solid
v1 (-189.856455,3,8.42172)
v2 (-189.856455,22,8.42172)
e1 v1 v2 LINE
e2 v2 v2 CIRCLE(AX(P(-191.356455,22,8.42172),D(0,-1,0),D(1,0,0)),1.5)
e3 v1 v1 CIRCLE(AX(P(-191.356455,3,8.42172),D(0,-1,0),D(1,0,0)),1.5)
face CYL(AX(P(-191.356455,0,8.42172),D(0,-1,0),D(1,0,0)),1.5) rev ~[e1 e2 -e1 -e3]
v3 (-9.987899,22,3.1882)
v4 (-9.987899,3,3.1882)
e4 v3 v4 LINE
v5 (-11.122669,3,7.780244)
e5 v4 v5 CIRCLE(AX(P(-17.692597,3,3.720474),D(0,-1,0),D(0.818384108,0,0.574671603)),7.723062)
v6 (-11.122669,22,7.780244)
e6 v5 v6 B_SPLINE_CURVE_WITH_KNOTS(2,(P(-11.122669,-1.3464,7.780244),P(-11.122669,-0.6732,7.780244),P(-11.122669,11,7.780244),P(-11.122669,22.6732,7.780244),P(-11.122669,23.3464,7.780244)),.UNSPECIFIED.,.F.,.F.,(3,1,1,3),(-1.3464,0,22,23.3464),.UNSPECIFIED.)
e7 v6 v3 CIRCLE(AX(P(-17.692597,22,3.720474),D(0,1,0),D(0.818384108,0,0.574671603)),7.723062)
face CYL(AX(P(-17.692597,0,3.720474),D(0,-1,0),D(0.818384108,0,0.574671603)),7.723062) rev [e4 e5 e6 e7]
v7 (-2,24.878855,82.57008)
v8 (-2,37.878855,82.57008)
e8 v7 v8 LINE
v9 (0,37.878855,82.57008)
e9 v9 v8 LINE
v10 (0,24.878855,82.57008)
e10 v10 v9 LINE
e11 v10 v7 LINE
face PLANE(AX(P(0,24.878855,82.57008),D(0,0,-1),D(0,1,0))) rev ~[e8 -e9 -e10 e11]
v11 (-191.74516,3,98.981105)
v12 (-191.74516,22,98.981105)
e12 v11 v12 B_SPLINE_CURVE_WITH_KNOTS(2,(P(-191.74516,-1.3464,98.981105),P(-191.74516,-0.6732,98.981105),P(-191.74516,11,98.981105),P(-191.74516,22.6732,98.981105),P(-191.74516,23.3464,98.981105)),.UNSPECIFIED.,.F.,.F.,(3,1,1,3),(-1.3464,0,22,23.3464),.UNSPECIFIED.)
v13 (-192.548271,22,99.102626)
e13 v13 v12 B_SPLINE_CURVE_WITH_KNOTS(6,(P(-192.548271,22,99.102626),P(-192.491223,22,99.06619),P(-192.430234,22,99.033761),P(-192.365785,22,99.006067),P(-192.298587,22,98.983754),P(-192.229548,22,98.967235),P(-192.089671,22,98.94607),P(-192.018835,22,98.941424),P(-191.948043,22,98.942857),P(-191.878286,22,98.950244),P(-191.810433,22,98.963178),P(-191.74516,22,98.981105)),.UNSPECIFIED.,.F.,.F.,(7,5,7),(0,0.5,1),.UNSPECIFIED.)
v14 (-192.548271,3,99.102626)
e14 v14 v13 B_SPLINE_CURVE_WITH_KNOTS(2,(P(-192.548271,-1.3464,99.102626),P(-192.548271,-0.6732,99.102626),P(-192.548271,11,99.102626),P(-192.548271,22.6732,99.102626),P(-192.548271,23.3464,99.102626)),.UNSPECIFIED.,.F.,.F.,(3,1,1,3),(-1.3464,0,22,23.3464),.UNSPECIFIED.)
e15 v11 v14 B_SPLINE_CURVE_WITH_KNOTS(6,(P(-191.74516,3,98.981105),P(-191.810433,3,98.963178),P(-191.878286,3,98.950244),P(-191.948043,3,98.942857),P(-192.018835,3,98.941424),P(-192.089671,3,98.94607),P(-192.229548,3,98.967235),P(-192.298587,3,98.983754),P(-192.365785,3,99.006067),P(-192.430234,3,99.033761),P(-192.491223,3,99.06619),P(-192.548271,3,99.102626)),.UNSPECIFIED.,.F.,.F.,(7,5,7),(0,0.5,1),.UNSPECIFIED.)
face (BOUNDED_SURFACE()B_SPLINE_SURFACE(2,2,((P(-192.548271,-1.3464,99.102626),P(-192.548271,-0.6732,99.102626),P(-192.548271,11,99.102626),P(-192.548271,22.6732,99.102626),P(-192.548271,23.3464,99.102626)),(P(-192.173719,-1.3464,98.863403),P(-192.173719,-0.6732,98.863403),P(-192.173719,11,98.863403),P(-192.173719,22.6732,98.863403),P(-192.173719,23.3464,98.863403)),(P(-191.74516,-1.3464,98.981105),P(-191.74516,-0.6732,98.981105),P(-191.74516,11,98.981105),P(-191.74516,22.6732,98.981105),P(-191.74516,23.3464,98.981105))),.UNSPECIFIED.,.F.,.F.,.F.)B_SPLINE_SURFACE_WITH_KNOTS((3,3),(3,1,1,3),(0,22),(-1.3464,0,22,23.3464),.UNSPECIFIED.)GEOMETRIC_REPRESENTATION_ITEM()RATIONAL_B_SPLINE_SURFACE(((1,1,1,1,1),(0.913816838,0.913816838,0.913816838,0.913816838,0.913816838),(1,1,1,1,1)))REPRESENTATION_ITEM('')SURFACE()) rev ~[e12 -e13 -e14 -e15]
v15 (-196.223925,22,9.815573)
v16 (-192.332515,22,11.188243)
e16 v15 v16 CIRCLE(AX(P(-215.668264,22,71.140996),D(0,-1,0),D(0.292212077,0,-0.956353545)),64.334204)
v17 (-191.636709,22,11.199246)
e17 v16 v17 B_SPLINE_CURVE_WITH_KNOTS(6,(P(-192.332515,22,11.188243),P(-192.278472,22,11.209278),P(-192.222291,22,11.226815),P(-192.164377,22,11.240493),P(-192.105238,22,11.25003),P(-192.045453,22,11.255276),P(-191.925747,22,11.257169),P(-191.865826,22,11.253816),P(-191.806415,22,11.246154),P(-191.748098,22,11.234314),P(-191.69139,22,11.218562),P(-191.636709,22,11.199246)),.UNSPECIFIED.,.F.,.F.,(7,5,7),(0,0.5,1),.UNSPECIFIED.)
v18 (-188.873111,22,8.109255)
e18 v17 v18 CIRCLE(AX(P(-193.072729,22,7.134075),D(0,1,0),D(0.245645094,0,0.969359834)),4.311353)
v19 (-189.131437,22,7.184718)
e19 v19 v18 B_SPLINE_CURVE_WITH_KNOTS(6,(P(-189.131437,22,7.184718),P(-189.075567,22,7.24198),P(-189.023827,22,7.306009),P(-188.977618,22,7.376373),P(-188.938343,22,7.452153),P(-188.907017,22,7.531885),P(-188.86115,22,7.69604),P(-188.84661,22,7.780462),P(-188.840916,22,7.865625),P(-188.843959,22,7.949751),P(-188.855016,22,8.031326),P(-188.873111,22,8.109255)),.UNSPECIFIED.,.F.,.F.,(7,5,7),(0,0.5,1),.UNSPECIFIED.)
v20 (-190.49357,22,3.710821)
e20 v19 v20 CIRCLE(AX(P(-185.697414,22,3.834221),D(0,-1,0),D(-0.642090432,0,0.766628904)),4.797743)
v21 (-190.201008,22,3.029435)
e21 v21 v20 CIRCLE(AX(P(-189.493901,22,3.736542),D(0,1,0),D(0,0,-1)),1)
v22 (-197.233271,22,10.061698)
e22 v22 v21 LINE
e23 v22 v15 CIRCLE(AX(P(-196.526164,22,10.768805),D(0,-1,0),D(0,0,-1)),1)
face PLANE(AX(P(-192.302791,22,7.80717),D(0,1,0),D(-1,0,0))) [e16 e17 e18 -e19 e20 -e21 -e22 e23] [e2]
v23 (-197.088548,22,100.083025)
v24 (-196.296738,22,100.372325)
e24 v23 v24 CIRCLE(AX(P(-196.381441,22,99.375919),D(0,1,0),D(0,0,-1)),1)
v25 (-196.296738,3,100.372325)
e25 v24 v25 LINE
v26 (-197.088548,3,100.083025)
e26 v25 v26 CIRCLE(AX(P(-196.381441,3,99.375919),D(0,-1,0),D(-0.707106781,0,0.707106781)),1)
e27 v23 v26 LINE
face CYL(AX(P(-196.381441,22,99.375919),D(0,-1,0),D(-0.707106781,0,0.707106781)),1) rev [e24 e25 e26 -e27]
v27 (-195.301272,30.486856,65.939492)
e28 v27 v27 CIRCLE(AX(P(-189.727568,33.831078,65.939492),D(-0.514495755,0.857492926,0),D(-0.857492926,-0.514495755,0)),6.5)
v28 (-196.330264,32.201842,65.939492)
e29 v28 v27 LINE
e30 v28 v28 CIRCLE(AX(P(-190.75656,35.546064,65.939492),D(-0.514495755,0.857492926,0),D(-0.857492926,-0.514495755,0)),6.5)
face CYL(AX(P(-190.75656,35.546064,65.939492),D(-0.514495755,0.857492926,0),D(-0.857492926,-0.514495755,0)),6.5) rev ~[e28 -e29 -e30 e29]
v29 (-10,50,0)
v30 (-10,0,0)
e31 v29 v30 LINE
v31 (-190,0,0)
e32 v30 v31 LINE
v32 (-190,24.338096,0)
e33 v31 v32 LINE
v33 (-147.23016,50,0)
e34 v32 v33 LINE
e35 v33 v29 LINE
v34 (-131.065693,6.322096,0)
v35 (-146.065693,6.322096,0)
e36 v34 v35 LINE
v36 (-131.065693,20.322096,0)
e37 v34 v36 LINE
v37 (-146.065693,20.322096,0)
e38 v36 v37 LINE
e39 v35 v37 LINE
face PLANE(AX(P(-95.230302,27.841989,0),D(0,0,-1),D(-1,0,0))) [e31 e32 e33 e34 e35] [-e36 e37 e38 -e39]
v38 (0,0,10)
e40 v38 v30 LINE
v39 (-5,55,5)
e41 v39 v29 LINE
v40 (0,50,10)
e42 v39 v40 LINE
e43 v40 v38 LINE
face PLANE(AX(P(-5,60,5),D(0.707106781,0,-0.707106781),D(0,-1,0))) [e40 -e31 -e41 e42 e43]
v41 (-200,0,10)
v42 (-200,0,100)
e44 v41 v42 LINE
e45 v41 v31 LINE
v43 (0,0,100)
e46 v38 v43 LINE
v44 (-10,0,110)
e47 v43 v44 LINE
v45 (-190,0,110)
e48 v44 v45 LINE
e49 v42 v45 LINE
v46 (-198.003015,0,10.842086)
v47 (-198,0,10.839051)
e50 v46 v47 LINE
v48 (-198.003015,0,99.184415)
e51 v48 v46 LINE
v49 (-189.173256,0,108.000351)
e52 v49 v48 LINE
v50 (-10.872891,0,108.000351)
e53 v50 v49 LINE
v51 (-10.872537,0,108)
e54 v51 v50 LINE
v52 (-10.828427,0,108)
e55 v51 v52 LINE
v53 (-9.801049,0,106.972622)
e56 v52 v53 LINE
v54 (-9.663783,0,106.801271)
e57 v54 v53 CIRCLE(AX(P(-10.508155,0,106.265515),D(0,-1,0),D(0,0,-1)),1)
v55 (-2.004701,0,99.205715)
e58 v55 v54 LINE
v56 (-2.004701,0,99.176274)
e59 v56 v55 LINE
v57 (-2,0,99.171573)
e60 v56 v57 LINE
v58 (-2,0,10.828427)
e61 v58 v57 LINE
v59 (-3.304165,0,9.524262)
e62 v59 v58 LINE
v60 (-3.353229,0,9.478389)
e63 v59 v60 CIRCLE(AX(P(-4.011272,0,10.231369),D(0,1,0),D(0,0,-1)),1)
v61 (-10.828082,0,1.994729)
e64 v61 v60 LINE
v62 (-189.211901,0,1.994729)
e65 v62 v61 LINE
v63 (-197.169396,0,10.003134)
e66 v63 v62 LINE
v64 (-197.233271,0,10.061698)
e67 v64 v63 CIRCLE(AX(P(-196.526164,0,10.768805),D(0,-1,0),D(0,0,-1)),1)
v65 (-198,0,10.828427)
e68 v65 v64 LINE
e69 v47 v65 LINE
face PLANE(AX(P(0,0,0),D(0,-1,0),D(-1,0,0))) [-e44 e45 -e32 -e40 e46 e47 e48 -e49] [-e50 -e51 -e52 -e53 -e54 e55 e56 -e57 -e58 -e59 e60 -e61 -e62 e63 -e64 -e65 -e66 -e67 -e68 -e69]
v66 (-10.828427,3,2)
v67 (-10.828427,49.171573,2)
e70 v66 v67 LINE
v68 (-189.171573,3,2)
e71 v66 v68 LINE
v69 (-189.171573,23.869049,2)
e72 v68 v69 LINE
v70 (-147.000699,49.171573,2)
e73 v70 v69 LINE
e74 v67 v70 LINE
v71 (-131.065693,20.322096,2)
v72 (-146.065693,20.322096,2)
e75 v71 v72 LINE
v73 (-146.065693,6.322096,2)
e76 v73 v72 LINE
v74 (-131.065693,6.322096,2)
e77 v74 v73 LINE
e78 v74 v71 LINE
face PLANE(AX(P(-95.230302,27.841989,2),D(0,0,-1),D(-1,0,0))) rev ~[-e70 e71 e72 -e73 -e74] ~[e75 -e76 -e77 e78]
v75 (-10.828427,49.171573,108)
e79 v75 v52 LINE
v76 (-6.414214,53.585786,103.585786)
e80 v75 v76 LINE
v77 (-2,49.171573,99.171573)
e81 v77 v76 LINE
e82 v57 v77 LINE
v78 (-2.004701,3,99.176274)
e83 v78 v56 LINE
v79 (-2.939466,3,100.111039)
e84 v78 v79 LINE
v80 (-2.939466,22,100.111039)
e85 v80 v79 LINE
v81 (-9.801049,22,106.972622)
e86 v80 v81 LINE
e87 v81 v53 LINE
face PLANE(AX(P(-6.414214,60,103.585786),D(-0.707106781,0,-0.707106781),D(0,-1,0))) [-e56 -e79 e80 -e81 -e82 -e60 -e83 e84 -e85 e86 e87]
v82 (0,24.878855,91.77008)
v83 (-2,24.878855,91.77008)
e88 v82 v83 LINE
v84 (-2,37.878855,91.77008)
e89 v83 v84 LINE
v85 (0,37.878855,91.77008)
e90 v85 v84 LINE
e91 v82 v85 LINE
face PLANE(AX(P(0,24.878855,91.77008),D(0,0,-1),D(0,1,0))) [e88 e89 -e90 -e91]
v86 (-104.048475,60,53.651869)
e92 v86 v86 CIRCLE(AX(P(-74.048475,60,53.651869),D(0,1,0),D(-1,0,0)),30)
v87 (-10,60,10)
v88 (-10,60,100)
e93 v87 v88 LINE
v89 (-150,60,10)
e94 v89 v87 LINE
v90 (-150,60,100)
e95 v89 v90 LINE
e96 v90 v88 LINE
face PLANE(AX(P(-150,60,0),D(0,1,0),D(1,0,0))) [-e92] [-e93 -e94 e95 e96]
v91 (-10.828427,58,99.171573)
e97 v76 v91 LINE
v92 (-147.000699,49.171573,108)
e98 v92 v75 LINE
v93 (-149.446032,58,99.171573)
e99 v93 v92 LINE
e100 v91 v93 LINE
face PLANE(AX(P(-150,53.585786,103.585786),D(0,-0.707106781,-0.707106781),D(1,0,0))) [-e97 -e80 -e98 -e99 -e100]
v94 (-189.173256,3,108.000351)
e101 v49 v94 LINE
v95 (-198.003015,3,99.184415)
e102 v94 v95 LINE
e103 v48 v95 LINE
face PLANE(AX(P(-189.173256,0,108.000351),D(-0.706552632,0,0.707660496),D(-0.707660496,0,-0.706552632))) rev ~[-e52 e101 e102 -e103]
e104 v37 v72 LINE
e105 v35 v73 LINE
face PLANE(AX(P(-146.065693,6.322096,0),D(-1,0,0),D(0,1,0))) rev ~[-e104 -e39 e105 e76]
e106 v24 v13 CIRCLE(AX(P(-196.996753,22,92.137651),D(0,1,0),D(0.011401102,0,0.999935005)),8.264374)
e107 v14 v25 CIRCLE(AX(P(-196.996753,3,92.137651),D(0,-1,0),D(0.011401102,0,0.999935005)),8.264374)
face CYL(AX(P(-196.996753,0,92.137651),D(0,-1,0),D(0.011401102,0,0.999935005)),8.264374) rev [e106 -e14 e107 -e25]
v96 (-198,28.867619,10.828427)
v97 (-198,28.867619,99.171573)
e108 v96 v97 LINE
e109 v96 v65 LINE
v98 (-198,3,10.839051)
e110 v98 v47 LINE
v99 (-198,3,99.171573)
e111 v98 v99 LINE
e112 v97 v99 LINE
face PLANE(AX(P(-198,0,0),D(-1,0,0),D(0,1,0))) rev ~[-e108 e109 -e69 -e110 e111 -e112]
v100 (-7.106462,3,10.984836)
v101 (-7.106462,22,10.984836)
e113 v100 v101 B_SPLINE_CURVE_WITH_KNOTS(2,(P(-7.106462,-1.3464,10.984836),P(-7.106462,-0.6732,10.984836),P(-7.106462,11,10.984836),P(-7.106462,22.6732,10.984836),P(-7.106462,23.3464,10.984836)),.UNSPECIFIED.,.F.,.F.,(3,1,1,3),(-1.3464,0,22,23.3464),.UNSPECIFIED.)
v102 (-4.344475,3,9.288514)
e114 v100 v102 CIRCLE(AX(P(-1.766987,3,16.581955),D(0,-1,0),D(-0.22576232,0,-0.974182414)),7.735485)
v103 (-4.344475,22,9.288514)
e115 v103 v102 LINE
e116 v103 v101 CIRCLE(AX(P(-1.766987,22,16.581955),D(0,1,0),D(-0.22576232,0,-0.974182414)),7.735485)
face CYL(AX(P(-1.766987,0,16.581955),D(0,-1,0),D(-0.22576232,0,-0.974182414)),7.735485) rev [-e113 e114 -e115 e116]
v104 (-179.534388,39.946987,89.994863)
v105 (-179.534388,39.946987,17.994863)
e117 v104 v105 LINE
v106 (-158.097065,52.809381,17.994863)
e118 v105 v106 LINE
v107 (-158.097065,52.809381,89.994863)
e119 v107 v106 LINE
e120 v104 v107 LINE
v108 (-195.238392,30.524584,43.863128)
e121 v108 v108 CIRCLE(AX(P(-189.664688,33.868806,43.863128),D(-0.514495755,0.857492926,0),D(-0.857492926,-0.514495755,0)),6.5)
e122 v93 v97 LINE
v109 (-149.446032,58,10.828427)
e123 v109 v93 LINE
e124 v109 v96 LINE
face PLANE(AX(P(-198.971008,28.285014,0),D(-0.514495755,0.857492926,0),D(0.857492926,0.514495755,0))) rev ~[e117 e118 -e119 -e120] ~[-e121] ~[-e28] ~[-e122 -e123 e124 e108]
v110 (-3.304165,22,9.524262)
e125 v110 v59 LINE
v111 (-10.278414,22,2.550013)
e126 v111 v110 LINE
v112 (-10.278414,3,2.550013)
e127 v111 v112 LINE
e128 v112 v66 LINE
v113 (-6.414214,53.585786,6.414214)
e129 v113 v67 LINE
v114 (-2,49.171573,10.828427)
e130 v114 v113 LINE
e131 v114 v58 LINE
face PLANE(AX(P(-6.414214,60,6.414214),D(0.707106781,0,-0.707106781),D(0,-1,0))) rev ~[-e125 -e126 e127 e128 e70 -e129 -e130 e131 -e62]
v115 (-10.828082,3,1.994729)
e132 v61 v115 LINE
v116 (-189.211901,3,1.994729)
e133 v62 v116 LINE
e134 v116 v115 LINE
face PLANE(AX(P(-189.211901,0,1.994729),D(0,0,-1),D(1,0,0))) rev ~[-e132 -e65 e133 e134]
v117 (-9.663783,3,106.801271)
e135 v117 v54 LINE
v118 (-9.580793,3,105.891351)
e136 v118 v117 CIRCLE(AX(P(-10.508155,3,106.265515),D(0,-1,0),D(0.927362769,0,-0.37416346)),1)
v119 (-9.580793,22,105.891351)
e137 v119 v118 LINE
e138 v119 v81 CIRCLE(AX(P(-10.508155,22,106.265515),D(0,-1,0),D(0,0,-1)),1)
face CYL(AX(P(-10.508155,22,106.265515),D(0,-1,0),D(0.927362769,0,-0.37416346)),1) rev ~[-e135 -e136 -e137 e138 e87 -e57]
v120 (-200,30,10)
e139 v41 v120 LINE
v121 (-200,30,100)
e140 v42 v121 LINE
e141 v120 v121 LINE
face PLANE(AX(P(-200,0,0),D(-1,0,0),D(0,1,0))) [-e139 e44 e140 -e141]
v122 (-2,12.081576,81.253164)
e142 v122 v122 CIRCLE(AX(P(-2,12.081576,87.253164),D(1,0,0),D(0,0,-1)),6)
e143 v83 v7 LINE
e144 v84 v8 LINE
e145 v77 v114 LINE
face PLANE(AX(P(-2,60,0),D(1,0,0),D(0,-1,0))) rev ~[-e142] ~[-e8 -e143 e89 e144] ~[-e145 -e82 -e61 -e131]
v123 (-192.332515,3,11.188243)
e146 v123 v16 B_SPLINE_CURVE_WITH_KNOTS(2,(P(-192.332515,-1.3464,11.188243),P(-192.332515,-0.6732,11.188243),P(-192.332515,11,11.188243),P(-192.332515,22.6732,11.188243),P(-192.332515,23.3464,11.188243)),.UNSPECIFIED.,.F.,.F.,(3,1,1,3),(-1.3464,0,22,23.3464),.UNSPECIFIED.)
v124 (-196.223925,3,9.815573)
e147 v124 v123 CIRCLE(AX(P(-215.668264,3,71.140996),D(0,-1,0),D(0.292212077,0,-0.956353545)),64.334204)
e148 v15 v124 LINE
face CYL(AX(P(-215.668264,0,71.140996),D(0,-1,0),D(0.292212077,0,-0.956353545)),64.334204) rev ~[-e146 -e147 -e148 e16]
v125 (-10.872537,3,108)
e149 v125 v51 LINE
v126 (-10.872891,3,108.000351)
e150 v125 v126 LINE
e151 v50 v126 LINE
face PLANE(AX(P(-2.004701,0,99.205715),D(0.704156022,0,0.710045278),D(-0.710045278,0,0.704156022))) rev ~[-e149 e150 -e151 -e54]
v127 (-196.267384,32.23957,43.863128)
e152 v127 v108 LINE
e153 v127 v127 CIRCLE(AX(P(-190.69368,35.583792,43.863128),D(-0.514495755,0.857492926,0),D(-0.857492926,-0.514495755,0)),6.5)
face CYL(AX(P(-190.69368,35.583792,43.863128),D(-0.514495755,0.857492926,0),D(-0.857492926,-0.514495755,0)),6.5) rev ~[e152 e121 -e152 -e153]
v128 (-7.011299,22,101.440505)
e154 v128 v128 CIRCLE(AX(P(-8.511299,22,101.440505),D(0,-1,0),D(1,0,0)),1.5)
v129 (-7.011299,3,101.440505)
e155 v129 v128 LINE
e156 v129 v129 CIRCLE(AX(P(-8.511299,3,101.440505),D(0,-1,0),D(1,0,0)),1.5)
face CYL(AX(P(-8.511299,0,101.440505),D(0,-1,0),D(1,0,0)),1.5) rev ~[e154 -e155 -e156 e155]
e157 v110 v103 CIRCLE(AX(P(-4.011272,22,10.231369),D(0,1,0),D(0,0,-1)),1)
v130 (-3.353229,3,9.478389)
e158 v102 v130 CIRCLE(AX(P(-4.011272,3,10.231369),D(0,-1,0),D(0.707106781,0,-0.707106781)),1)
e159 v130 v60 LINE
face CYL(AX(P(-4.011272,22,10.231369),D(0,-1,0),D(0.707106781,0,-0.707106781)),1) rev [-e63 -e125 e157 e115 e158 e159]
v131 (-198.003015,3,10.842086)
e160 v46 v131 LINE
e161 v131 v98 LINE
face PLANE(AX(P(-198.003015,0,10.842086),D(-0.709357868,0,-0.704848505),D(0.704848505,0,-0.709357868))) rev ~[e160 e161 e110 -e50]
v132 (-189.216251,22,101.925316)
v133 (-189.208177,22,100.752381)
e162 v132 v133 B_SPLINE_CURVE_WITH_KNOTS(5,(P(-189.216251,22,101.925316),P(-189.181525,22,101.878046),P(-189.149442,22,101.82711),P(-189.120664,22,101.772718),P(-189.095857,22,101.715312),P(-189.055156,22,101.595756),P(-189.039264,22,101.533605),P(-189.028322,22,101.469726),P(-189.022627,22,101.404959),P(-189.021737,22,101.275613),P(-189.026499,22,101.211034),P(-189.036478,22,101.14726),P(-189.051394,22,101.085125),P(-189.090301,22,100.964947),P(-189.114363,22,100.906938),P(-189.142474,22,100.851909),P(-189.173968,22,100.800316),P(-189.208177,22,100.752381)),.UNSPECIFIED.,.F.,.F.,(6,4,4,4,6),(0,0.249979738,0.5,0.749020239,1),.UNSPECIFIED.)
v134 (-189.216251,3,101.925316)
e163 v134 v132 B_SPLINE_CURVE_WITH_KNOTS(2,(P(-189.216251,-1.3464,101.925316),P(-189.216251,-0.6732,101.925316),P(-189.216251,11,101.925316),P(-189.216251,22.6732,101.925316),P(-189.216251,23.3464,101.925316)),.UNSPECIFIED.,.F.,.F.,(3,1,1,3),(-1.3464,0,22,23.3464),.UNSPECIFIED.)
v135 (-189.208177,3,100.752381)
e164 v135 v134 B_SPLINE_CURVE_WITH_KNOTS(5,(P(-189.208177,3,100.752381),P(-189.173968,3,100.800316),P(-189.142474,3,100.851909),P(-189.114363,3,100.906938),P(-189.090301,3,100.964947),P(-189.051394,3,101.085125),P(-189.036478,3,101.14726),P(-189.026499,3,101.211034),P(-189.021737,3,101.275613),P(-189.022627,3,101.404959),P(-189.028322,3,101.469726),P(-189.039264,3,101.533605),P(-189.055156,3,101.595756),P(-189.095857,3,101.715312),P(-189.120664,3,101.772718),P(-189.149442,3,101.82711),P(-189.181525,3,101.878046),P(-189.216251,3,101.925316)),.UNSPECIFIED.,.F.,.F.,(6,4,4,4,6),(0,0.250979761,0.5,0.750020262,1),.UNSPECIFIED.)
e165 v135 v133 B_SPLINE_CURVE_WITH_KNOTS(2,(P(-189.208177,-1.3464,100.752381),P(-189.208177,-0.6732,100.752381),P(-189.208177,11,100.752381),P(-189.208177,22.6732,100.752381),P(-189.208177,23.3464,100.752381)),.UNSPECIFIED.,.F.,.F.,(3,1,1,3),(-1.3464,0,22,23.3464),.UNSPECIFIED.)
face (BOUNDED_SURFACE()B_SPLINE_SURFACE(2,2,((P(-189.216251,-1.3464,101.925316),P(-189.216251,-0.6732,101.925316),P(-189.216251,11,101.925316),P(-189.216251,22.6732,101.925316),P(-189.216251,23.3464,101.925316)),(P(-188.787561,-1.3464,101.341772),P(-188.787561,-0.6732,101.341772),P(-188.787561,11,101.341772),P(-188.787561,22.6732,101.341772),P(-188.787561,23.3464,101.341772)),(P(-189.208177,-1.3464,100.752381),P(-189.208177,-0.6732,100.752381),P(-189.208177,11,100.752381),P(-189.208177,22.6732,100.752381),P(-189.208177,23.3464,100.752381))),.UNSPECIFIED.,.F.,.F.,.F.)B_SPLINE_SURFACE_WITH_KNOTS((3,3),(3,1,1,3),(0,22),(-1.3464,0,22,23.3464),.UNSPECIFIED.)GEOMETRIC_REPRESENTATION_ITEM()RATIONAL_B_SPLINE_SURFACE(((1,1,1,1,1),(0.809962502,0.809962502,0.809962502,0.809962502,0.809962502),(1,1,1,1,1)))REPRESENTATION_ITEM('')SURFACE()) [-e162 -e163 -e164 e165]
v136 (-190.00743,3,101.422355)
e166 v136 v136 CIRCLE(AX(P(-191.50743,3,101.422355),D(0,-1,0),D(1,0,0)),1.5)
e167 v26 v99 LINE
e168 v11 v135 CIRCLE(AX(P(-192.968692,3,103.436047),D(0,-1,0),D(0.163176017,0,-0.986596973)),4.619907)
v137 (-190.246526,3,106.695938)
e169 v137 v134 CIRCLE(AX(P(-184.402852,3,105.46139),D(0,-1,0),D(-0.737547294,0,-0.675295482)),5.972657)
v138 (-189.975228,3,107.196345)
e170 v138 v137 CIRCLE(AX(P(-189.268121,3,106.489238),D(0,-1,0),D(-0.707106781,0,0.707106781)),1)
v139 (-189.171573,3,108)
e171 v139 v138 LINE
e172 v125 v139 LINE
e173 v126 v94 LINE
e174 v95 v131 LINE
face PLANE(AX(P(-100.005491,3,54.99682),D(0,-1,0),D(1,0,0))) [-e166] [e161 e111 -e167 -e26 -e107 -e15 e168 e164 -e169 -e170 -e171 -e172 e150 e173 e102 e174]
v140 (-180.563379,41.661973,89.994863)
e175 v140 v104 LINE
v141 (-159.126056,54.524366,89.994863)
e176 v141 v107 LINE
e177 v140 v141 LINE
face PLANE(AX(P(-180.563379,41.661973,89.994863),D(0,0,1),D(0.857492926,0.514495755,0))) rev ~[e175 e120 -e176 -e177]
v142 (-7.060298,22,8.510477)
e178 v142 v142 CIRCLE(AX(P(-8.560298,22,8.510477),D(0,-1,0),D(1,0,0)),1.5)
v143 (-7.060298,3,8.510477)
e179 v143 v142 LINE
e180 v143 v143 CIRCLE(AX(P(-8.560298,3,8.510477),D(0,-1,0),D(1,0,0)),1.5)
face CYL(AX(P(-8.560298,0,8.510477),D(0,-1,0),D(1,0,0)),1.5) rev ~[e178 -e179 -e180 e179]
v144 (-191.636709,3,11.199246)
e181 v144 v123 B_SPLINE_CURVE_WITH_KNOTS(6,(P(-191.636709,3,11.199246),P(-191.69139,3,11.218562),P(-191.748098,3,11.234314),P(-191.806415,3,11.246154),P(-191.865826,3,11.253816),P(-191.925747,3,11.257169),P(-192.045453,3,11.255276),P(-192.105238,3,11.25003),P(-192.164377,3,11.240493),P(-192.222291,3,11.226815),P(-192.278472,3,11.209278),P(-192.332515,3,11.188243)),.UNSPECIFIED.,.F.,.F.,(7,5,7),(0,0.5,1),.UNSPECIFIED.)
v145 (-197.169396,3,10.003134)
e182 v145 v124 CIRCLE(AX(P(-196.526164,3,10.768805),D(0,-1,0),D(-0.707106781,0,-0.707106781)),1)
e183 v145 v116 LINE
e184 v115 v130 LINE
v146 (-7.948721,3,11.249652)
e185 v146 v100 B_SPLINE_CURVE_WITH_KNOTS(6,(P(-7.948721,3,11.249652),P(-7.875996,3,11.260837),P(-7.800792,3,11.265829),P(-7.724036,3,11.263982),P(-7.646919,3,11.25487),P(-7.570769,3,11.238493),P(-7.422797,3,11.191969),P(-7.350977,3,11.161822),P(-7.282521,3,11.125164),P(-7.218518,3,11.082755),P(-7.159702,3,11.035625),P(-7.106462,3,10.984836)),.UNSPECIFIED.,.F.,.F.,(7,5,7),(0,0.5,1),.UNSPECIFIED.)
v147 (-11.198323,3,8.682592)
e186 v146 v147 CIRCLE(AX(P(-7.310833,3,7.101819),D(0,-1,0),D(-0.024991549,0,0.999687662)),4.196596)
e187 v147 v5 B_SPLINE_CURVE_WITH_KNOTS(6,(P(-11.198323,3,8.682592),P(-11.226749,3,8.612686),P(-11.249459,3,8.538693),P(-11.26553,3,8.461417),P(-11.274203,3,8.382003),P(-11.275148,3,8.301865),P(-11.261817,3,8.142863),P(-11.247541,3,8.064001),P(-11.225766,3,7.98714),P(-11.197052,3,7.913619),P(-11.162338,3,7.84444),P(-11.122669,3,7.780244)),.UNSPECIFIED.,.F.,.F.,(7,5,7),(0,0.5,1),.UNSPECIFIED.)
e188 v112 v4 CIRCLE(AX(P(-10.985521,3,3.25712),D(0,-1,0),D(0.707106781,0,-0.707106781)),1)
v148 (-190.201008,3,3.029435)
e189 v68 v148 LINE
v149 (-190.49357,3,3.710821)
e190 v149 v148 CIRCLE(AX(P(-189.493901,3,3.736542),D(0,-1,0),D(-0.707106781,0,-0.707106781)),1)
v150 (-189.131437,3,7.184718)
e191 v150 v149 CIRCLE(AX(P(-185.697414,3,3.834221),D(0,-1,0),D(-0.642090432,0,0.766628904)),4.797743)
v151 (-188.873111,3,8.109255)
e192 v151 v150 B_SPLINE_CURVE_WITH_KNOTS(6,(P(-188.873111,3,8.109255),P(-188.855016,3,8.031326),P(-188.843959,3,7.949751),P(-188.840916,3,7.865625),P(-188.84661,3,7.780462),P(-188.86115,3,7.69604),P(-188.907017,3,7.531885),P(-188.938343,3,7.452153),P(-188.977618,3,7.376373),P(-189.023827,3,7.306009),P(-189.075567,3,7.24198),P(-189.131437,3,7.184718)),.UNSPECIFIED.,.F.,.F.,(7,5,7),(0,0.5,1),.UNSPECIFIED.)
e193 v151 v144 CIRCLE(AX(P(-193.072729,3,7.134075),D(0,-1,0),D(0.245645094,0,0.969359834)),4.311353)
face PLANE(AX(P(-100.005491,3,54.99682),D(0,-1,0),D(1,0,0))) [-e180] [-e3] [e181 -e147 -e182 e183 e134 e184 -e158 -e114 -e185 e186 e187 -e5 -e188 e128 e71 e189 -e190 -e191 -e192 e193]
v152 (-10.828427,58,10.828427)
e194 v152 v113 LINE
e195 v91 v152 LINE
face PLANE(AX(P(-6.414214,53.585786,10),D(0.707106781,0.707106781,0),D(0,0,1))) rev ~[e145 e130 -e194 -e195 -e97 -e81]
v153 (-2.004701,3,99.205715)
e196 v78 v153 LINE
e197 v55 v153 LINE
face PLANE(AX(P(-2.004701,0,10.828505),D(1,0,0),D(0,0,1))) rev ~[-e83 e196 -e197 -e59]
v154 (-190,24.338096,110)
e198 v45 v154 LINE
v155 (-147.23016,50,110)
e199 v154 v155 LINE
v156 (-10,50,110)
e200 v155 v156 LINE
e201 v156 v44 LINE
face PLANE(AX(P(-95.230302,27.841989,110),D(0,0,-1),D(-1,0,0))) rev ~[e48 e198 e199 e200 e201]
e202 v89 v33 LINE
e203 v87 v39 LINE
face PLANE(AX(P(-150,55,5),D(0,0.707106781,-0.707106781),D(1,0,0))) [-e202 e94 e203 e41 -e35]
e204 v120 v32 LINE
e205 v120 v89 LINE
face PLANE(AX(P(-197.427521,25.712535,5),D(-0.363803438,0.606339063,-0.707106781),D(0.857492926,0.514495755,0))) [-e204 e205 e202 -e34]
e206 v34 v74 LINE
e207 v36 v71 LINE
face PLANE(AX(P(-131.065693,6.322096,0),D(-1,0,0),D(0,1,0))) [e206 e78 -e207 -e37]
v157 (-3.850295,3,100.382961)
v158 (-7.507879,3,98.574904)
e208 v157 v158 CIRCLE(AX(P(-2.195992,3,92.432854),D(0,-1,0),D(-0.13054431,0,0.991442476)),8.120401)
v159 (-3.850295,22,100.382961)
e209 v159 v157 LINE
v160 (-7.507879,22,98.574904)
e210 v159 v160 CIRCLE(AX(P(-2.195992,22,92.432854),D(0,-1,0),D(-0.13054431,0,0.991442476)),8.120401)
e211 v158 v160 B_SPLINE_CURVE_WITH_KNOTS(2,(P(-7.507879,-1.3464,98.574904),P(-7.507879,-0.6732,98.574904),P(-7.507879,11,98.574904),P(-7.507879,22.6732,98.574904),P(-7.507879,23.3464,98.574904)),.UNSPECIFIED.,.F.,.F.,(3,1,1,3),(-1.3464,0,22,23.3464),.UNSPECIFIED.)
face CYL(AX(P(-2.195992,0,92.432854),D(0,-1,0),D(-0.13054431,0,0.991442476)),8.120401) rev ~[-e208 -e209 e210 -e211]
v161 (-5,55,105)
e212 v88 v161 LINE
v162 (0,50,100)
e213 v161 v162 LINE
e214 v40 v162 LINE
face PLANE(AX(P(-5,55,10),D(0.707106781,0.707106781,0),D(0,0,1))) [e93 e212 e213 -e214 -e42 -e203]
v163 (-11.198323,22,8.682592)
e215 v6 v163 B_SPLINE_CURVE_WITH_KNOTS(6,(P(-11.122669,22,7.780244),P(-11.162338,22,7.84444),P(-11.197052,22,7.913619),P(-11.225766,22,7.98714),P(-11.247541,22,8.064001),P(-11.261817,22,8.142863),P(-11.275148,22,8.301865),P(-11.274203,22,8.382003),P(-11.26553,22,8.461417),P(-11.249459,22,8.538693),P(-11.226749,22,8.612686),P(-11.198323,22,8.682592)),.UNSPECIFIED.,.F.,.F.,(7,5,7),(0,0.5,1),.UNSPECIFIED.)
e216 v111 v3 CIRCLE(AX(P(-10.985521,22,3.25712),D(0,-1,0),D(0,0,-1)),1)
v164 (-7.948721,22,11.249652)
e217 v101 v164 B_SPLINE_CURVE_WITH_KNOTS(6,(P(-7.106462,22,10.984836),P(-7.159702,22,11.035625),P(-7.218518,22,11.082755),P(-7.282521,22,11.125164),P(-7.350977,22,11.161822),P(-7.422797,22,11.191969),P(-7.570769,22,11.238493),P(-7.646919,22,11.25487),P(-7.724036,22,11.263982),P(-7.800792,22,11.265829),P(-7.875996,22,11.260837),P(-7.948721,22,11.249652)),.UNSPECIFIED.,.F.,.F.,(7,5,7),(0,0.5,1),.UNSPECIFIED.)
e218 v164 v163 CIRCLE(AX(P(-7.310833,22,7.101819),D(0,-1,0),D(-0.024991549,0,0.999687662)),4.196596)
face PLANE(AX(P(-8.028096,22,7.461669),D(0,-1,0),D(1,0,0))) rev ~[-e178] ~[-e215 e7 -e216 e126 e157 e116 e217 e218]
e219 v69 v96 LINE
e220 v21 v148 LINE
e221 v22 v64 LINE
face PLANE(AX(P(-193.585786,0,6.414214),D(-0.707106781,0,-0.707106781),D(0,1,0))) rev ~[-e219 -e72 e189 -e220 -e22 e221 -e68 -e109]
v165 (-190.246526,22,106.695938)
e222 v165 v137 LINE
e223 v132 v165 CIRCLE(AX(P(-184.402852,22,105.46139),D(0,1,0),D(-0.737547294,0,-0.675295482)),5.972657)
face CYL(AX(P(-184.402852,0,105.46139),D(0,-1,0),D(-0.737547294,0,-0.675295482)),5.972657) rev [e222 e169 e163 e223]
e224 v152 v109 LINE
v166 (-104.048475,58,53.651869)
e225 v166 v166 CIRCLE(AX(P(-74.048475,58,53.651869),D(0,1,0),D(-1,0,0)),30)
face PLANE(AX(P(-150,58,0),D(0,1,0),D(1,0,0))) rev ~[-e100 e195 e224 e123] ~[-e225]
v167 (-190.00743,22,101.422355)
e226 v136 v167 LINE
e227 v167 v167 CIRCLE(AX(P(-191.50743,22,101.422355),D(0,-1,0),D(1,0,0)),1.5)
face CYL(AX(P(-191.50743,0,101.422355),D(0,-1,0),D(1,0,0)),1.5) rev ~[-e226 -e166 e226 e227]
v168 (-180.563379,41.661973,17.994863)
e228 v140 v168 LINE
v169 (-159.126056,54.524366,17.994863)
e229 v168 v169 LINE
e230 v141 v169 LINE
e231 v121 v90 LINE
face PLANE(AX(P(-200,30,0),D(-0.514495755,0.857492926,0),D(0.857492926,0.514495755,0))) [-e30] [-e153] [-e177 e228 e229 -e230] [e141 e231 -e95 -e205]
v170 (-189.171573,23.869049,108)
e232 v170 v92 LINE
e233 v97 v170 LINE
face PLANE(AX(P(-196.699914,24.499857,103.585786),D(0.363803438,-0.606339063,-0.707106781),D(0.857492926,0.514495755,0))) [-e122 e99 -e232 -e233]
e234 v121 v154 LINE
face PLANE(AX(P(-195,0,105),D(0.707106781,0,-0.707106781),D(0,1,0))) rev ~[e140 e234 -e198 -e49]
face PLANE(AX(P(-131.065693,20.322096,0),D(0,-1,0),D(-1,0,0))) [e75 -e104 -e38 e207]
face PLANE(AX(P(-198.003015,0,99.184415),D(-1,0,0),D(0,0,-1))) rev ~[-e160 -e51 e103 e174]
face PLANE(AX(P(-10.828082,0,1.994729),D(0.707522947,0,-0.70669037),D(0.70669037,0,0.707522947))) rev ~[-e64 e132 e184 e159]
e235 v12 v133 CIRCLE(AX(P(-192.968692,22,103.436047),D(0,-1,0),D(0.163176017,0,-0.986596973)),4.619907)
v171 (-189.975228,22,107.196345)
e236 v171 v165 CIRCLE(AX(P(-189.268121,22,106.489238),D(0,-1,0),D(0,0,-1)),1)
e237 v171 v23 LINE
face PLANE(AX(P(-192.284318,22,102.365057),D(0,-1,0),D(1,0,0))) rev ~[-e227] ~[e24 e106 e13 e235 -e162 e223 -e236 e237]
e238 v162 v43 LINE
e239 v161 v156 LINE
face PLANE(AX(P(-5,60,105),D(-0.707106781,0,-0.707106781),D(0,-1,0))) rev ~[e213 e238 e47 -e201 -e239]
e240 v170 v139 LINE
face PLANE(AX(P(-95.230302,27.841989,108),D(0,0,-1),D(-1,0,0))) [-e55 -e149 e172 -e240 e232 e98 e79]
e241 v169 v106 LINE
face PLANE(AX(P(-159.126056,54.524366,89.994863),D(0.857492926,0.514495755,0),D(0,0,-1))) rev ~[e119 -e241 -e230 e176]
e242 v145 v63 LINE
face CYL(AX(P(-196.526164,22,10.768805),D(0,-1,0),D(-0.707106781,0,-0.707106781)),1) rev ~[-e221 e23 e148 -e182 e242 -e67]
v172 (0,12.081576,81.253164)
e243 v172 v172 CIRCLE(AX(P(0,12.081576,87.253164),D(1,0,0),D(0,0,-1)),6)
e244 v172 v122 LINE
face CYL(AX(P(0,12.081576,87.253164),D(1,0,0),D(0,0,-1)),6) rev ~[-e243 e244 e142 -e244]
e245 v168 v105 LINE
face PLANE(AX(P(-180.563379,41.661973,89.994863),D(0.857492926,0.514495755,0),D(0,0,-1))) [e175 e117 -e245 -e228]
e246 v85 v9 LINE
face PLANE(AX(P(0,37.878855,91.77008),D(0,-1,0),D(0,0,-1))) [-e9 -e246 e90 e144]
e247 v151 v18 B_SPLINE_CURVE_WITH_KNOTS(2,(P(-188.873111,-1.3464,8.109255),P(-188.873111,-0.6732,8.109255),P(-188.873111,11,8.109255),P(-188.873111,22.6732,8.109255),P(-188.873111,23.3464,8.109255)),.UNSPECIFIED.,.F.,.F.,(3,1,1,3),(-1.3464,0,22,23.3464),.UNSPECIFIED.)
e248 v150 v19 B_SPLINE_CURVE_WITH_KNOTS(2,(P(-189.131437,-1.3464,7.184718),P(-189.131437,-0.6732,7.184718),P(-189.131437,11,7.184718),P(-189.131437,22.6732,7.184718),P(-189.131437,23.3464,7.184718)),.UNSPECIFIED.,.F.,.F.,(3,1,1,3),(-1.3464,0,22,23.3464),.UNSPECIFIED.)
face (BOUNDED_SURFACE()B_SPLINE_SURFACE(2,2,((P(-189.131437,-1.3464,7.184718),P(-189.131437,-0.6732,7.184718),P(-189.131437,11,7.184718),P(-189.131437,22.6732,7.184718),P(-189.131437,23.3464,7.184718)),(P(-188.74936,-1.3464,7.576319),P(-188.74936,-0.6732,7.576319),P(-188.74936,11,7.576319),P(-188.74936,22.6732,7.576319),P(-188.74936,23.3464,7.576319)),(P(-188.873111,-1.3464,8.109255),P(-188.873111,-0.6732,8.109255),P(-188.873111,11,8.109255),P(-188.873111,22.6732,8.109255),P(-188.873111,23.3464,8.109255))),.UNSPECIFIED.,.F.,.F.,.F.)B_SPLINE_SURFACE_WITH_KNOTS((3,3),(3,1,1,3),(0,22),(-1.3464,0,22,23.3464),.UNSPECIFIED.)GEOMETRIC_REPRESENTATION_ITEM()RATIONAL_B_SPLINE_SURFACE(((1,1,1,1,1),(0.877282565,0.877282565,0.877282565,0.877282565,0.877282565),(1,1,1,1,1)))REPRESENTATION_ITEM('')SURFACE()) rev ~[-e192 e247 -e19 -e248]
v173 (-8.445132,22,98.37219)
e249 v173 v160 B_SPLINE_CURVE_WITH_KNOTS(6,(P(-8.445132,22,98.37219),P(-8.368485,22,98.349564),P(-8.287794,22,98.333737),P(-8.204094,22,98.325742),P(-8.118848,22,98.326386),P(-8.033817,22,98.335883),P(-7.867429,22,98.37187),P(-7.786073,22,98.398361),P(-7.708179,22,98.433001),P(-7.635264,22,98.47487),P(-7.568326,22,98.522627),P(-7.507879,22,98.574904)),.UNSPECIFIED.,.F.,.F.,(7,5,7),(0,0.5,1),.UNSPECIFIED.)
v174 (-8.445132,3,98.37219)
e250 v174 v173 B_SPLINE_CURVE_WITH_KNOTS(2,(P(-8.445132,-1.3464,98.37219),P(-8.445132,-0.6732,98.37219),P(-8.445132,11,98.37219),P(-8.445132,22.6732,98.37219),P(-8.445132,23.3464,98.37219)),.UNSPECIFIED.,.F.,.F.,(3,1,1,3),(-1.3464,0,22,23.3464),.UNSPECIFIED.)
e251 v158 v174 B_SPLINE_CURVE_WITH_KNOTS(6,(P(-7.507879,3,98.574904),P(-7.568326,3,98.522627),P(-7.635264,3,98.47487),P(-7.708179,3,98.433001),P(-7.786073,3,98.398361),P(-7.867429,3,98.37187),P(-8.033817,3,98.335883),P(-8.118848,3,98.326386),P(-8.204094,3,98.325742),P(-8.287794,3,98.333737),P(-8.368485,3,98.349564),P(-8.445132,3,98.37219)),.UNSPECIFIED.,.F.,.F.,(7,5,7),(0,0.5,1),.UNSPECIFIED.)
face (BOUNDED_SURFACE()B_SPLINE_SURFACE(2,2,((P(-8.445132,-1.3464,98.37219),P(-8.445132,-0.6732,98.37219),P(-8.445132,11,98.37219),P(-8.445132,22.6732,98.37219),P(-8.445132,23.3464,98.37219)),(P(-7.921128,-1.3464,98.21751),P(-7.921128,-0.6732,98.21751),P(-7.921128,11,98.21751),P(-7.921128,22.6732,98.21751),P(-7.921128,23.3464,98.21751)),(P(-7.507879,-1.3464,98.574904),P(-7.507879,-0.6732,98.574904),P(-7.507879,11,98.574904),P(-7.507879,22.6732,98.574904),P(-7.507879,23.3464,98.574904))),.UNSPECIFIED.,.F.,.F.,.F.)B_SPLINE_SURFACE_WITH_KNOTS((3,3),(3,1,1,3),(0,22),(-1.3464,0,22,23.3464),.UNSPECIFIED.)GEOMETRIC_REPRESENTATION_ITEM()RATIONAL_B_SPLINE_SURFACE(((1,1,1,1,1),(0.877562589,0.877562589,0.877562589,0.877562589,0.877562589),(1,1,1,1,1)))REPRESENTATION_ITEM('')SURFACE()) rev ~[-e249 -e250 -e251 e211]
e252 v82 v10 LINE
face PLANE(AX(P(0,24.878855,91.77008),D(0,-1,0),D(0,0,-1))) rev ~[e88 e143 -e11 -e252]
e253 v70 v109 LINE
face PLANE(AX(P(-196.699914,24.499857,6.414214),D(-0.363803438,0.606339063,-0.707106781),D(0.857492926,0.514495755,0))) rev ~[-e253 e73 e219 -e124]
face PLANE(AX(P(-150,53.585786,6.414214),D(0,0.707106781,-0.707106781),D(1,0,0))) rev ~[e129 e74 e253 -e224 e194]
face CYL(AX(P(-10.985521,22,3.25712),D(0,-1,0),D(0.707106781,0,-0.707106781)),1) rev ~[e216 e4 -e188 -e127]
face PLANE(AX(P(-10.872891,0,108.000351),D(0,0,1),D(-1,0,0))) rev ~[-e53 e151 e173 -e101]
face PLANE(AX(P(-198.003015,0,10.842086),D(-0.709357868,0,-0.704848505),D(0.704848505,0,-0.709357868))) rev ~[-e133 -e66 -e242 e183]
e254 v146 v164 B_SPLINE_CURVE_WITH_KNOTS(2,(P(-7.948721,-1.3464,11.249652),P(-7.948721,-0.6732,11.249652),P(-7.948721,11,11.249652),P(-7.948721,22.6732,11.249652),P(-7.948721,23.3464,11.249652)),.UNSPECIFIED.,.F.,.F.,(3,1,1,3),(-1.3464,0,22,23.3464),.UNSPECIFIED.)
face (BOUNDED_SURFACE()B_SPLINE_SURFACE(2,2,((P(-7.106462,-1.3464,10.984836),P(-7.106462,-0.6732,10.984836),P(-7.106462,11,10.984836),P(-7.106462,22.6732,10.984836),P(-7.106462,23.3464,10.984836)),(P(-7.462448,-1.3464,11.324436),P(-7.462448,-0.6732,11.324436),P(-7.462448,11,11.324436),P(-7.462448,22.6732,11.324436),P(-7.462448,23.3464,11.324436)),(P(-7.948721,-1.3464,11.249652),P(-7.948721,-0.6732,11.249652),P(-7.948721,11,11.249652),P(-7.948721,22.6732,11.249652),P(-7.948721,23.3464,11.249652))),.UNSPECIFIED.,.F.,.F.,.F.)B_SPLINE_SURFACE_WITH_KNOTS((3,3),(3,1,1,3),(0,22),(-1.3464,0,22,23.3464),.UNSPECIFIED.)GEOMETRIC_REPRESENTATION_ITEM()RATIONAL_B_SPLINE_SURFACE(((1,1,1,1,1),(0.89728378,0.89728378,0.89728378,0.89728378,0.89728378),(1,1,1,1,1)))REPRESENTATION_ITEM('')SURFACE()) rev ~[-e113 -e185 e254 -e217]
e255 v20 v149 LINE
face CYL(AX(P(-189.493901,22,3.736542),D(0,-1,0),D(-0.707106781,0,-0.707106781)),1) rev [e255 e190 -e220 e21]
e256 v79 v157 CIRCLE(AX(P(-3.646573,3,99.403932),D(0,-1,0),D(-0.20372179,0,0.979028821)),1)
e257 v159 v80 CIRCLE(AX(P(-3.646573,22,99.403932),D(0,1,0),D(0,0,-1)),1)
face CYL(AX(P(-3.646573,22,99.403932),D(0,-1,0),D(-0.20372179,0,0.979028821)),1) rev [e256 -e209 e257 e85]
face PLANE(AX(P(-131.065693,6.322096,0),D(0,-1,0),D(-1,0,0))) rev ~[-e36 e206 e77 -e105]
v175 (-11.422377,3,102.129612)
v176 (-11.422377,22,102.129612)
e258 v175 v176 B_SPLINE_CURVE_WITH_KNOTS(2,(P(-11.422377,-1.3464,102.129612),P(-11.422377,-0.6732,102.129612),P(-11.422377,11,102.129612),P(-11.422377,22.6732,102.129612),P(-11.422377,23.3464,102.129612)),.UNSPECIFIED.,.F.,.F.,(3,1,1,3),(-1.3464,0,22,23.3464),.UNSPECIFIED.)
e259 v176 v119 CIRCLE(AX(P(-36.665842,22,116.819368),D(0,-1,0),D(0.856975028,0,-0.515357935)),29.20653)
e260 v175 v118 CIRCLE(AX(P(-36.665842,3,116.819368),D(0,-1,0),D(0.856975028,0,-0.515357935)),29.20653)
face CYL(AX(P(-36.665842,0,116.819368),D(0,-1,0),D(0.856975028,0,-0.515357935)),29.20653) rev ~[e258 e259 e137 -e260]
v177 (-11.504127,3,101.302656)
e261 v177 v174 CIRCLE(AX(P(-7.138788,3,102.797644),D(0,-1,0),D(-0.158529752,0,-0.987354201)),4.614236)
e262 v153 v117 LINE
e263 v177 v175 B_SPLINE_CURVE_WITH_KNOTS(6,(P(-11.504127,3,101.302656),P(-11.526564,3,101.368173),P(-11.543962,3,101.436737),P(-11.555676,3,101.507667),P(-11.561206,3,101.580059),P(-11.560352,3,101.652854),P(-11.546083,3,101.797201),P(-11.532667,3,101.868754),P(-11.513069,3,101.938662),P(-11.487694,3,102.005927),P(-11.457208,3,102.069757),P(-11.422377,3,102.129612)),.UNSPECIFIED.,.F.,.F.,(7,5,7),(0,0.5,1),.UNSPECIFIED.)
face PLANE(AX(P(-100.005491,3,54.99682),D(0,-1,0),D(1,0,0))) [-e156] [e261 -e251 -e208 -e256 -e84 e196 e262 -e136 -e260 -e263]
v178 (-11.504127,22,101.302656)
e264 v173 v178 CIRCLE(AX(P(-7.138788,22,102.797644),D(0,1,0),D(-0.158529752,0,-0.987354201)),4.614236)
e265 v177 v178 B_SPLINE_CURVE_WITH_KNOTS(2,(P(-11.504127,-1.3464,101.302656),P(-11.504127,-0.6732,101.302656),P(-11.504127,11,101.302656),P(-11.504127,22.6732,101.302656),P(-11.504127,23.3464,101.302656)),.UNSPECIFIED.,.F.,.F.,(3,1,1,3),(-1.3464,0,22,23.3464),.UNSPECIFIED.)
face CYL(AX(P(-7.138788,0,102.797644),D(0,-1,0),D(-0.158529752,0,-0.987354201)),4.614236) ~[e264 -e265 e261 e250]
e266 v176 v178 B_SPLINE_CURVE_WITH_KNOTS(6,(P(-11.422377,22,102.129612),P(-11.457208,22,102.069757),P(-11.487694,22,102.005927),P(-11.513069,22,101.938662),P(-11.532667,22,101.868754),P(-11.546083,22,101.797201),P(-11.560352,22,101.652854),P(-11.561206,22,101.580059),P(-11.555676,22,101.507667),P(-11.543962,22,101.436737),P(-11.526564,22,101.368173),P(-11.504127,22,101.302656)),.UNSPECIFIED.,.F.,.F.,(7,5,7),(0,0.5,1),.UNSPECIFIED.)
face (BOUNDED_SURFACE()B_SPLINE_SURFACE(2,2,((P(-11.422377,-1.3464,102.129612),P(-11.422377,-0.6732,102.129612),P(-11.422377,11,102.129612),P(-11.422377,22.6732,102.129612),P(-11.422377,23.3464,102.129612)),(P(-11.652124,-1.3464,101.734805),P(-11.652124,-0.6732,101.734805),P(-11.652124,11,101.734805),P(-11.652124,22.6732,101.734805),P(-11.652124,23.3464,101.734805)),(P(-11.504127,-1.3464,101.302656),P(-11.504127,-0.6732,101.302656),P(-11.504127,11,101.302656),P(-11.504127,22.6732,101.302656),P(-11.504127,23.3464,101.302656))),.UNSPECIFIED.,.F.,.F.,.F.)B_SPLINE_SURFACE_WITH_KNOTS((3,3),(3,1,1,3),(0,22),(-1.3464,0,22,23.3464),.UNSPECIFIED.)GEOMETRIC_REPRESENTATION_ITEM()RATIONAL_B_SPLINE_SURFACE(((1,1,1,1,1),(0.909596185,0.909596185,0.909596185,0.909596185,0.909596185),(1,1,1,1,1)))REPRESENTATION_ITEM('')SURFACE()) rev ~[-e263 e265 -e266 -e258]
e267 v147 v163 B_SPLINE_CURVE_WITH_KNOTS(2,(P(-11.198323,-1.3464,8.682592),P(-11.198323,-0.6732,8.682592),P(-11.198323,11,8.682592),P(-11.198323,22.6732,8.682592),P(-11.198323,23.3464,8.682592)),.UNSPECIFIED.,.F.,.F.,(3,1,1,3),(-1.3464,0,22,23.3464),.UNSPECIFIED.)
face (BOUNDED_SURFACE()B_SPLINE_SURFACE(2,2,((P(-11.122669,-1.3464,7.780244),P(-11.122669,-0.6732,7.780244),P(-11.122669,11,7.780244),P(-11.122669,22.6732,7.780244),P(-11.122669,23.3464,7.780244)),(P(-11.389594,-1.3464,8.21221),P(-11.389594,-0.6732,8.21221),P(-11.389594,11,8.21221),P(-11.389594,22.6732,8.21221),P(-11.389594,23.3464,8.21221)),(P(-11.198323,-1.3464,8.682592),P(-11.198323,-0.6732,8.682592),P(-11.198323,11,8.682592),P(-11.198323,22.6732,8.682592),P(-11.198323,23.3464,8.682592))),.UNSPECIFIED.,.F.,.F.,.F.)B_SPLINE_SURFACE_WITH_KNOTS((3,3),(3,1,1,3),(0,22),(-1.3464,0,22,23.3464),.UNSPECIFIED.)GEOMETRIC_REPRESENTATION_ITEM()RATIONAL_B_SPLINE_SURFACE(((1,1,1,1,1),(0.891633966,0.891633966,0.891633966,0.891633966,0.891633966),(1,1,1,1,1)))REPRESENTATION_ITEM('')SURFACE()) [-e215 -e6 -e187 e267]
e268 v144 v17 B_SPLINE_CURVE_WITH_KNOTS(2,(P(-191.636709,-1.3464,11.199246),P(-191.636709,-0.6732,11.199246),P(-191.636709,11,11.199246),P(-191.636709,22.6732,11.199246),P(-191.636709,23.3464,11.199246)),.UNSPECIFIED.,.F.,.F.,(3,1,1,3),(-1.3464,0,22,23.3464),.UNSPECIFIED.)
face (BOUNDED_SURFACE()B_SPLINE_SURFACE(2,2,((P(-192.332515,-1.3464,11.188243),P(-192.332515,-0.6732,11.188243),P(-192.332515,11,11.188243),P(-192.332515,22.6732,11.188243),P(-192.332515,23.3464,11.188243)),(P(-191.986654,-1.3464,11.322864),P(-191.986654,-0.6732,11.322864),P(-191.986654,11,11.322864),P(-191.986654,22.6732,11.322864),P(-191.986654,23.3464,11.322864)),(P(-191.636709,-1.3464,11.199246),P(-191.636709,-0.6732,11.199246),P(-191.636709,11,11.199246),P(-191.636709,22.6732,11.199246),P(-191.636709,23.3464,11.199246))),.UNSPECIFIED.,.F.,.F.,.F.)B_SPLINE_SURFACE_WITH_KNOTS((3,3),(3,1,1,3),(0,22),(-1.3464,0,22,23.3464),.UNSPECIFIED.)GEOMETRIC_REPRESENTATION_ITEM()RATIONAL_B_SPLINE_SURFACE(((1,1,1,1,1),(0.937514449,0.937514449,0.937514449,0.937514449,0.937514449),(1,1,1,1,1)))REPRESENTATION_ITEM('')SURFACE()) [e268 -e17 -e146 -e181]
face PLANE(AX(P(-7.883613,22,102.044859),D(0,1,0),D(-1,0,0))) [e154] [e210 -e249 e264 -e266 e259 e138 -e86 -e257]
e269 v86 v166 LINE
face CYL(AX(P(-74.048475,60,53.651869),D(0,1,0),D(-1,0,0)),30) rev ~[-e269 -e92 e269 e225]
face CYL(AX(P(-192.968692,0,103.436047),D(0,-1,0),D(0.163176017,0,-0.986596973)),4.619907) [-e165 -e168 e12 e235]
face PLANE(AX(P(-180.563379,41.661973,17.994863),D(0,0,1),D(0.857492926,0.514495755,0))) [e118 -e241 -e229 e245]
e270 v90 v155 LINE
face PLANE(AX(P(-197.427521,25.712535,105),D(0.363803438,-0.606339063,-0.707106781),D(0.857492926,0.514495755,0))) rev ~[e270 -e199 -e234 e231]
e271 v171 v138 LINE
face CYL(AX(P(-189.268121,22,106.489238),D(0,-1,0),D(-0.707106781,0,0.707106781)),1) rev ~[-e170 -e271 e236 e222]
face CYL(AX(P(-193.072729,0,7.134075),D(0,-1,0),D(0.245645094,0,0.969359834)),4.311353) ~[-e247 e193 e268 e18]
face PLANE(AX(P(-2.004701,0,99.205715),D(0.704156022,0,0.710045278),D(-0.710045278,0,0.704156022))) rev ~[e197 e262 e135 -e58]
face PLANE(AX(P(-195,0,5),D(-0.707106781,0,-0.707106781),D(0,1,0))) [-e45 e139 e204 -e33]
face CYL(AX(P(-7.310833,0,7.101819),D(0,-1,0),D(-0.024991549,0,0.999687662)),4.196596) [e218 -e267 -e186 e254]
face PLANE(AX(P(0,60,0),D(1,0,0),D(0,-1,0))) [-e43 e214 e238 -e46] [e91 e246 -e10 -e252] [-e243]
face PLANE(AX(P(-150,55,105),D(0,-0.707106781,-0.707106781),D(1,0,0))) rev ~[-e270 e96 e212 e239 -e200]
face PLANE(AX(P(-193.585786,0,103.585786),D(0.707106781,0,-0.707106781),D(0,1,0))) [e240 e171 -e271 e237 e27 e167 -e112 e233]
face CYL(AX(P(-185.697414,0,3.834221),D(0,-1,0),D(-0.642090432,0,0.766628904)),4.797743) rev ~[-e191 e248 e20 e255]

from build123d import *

# Parameters (mm, degrees)
BOSS_EXTRUDE1_DEPTH = 110
CHAMFER1_SIZE       = 10
CHAMFER2_SIZE       = 10
SHELL2_T            = -2
SKETCH2_W           = 25
SKETCH2_H           = 72
CUT_EXTRUDE2_DEPTH  = 90
SKETCH4_R           = 6.5
CUT_EXTRUDE3_DEPTH  = 90
SKETCH5_R           = 1.5
BOSS_EXTRUDE2_DEPTH = 22
FILLET2_R           = 1
CUT_EXTRUDE4_DEPTH  = 3
SKETCH7_R           = 30
CUT_EXTRUDE5_DEPTH  = 61
SKETCH9_R           = 6
SKETCH9_W           = 9.2
SKETCH9_H           = 13
CUT_EXTRUDE6_DEPTH  = 48
SKETCH10_W          = 15
SKETCH10_H          = 14
CUT_EXTRUDE7_DEPTH  = 48


with BuildPart() as part:
    # Sketch1 → Boss-Extrude1 (new body)
    with BuildSketch(Plane.XY):
        Polygon((-200, 30), (-150, 60), (0, 60), (0, 0), (-200, 0), align=None)
    extrude(amount=BOSS_EXTRUDE1_DEPTH)

    # Chamfer1
    chamfer1_edges = [part.edges().sort_by_distance(p)[0] for p in [
        (-175, 45, 110),
        (-200, 15, 110),
        (0, 30, 110),
        (-200, 15, 0),
        (-175, 45, 0),
        (-75, 60, 0),
        (0, 30, 0),
        (-75, 60, 110),
    ]]
    chamfer(chamfer1_edges, length=CHAMFER1_SIZE)

    # Chamfer2
    chamfer2_edges = [part.edges().sort_by_distance(p)[0] for p in [
        (0, 60, 55),
    ]]
    chamfer(chamfer2_edges, length=CHAMFER2_SIZE)

    # Shell2
    shell2_openings = [part.faces().sort_by_distance(p)[0] for p in [
        (-100, 0, 55),
    ]]
    offset(amount=SHELL2_T, openings=shell2_openings, kind=Kind.INTERSECTION)

    # Sketch2 → Cut-Extrude2 (cut)
    with BuildSketch(Plane(origin=(-66.176470588, 110.294117647, 0), x_dir=(0.8574929257125443, 0.5144957554275263, 0), z_dir=(-0.5144957554275263, 0.8574929257125443, 0))):
        with Locations((-120.89691226, -53.994862886)):
            Rectangle(SKETCH2_W, SKETCH2_H)
    extrude(amount=-CUT_EXTRUDE2_DEPTH, mode=Mode.SUBTRACT)

    # Sketch4 → Cut-Extrude3 (cut)
    with BuildSketch(Plane(origin=(-66.176470588, 110.294117647, 0), x_dir=(0.8574929257125443, 0.5144957554275263, 0), z_dir=(-0.5144957554275263, 0.8574929257125443, 0))):
        with Locations(Location((-145.210771321, -43.863127818, 0), (0, 0, 180))):
            Circle(SKETCH4_R)
        with Locations(Location((-145.284101168, -65.939492282, 0), (0, 0, 180))):
            Circle(SKETCH4_R)
    extrude(amount=-CUT_EXTRUDE3_DEPTH, mode=Mode.SUBTRACT)

    # Sketch5 → Boss-Extrude2 (add)
    # profile 1 of 4: a face of its own
    with BuildSketch(Plane.XZ):
        with BuildLine():
            Line((-9.247397896, 106.757043705), (-3.256064459, 100.483765165))
            ThreePointArc((-3.256064459, 100.483765165), (-5.744873038, 99.736713828), (-7.870281401, 98.241757931))
            ThreePointArc((-7.870281401, 98.241757931), (-10.292221795, 99.429108259), (-11.636574356, 101.767550533))
            ThreePointArc((-11.636574356, 101.767550533), (-10.323587398, 104.205602893), (-9.247397896, 106.757043705))
        make_face()
        with Locations((-8.511299496, 101.440505433)):
            Circle(SKETCH5_R, mode=Mode.SUBTRACT)
    # profile 2 of 4: a face of its own
    with BuildSketch(Plane.XZ):
        with BuildLine():
            Line((-10.039510209, 2.683192712), (-3.513368166, 9.046181203))
            ThreePointArc((-3.513368166, 9.046181203), (-5.632030744, 9.88127065), (-7.41571196, 11.29710497))
            ThreePointArc((-7.41571196, 11.29710497), (-9.918845287, 10.389628717), (-11.372165694, 8.158698553))
            ThreePointArc((-11.372165694, 8.158698553), (-10.188591886, 5.546835518), (-10.039510209, 2.683192712))
        make_face()
        with Locations((-8.560298278, 8.510476998)):
            Circle(SKETCH5_R, mode=Mode.SUBTRACT)
    # profile 3 of 4: a face of its own
    with BuildSketch(Plane.XZ):
        with BuildLine():
            Line((-190.1639185, 107.037062189), (-196.90252996, 100.401487601))
            ThreePointArc((-196.90252996, 100.401487601), (-194.442462904, 99.997388644), (-192.214833899, 98.878060765))
            ThreePointArc((-192.214833899, 98.878060765), (-190.200311855, 99.737450982), (-188.807968894, 101.428081542))
            ThreePointArc((-188.807968894, 101.428081542), (-190.20827937, 104.057949981), (-190.1639185, 107.037062189))
        make_face()
        with Locations((-191.50742986, 101.422355381)):
            Circle(SKETCH5_R, mode=Mode.SUBTRACT)
    # profile 4 of 4: a face of its own
    with BuildSketch(Plane.XZ):
        with BuildLine():
            Line((-190.456179178, 3.22389745), (-196.869032371, 9.61475183))
            ThreePointArc((-196.869032371, 9.61475183), (-194.424366222, 10.415493615), (-192.013666474, 11.313328071))
            ThreePointArc((-192.013666474, 11.313328071), (-189.789786951, 9.928723292), (-188.777999187, 7.512309411))
            ThreePointArc((-188.777999187, 7.512309411), (-190.165240448, 5.582610921), (-190.456179178, 3.22389745))
        make_face()
        with Locations((-191.356454927, 8.42171973)):
            Circle(SKETCH5_R, mode=Mode.SUBTRACT)
    extrude(amount=-BOSS_EXTRUDE2_DEPTH)

    # Fillet2
    fillet2_edges = [part.edges().sort_by_distance(p)[0] for p in [
        (-196.80570876, 11, 9.634135884),
        (-190.464527553, 11, 3.292954677),
        (-188.777999187, 11, 7.512309411),
        (-192.013666474, 11, 11.313328071),
        (-10.024061604, 11, 2.80436552),
        (-3.72900082, 11, 9.099426304),
        (-7.41571196, 11, 11.29710497),
        (-11.372165694, 11, 8.158698553),
        (-196.772588823, 11, 100.398984052),
        (-190.174781799, 11, 106.996791076),
        (-192.214833899, 11, 98.878060765),
        (-188.807968894, 11, 101.428081542),
        (-3.305525067, 11, 100.477097942),
        (-9.339081083, 11, 106.510653959),
        (-11.636574356, 11, 101.767550533),
        (-7.870281401, 11, 98.241757931),
    ]]
    fillet(fillet2_edges, radius=FILLET2_R)

    # Sketch6 → Cut-Extrude4 (cut)
    with BuildSketch(Plane.XZ):
        Polygon((-198.003014977, 10.842085531), (-189.211900871, 1.9947291), (-10.828081787, 1.9947291), (-2.004701189, 10.828504844), (-2.004701189, 99.205715336), (-10.87289136, 108.000350983), (-189.173255871, 108.000350983), (-198.003014977, 99.184415132), align=None)
    extrude(amount=-CUT_EXTRUDE4_DEPTH, mode=Mode.SUBTRACT)

    # Sketch7 → Cut-Extrude5 (cut)
    with BuildSketch(Plane(origin=(0, 60, 0), x_dir=(1, 0, 0), z_dir=(0, 1, 0))):
        with Locations(Location((-74.048474832, -53.651868822, 0), (0, 0, 180))):
            Circle(SKETCH7_R)
    extrude(amount=-CUT_EXTRUDE5_DEPTH, mode=Mode.SUBTRACT)

    # Sketch9 → Cut-Extrude6 (cut)
    with BuildSketch(Plane(origin=(0, 0, 0), x_dir=(0, 0, -1), z_dir=(1, 0, 0))):
        with Locations((-87.253164056, 12.081575525)):
            Circle(SKETCH9_R)
        with Locations((-87.170080289, 31.378854617)):
            Rectangle(SKETCH9_W, SKETCH9_H)
    extrude(amount=-CUT_EXTRUDE6_DEPTH, mode=Mode.SUBTRACT)

    # Sketch10 → Cut-Extrude7 (cut)
    with BuildSketch(Plane(origin=(0, 0, 0), x_dir=(-1, 0, 0), z_dir=(0, 0, -1))):
        with Locations((138.565692725, 13.322096046)):
            Rectangle(SKETCH10_W, SKETCH10_H)
    extrude(amount=-CUT_EXTRUDE7_DEPTH, mode=Mode.SUBTRACT)


solid = part.part
